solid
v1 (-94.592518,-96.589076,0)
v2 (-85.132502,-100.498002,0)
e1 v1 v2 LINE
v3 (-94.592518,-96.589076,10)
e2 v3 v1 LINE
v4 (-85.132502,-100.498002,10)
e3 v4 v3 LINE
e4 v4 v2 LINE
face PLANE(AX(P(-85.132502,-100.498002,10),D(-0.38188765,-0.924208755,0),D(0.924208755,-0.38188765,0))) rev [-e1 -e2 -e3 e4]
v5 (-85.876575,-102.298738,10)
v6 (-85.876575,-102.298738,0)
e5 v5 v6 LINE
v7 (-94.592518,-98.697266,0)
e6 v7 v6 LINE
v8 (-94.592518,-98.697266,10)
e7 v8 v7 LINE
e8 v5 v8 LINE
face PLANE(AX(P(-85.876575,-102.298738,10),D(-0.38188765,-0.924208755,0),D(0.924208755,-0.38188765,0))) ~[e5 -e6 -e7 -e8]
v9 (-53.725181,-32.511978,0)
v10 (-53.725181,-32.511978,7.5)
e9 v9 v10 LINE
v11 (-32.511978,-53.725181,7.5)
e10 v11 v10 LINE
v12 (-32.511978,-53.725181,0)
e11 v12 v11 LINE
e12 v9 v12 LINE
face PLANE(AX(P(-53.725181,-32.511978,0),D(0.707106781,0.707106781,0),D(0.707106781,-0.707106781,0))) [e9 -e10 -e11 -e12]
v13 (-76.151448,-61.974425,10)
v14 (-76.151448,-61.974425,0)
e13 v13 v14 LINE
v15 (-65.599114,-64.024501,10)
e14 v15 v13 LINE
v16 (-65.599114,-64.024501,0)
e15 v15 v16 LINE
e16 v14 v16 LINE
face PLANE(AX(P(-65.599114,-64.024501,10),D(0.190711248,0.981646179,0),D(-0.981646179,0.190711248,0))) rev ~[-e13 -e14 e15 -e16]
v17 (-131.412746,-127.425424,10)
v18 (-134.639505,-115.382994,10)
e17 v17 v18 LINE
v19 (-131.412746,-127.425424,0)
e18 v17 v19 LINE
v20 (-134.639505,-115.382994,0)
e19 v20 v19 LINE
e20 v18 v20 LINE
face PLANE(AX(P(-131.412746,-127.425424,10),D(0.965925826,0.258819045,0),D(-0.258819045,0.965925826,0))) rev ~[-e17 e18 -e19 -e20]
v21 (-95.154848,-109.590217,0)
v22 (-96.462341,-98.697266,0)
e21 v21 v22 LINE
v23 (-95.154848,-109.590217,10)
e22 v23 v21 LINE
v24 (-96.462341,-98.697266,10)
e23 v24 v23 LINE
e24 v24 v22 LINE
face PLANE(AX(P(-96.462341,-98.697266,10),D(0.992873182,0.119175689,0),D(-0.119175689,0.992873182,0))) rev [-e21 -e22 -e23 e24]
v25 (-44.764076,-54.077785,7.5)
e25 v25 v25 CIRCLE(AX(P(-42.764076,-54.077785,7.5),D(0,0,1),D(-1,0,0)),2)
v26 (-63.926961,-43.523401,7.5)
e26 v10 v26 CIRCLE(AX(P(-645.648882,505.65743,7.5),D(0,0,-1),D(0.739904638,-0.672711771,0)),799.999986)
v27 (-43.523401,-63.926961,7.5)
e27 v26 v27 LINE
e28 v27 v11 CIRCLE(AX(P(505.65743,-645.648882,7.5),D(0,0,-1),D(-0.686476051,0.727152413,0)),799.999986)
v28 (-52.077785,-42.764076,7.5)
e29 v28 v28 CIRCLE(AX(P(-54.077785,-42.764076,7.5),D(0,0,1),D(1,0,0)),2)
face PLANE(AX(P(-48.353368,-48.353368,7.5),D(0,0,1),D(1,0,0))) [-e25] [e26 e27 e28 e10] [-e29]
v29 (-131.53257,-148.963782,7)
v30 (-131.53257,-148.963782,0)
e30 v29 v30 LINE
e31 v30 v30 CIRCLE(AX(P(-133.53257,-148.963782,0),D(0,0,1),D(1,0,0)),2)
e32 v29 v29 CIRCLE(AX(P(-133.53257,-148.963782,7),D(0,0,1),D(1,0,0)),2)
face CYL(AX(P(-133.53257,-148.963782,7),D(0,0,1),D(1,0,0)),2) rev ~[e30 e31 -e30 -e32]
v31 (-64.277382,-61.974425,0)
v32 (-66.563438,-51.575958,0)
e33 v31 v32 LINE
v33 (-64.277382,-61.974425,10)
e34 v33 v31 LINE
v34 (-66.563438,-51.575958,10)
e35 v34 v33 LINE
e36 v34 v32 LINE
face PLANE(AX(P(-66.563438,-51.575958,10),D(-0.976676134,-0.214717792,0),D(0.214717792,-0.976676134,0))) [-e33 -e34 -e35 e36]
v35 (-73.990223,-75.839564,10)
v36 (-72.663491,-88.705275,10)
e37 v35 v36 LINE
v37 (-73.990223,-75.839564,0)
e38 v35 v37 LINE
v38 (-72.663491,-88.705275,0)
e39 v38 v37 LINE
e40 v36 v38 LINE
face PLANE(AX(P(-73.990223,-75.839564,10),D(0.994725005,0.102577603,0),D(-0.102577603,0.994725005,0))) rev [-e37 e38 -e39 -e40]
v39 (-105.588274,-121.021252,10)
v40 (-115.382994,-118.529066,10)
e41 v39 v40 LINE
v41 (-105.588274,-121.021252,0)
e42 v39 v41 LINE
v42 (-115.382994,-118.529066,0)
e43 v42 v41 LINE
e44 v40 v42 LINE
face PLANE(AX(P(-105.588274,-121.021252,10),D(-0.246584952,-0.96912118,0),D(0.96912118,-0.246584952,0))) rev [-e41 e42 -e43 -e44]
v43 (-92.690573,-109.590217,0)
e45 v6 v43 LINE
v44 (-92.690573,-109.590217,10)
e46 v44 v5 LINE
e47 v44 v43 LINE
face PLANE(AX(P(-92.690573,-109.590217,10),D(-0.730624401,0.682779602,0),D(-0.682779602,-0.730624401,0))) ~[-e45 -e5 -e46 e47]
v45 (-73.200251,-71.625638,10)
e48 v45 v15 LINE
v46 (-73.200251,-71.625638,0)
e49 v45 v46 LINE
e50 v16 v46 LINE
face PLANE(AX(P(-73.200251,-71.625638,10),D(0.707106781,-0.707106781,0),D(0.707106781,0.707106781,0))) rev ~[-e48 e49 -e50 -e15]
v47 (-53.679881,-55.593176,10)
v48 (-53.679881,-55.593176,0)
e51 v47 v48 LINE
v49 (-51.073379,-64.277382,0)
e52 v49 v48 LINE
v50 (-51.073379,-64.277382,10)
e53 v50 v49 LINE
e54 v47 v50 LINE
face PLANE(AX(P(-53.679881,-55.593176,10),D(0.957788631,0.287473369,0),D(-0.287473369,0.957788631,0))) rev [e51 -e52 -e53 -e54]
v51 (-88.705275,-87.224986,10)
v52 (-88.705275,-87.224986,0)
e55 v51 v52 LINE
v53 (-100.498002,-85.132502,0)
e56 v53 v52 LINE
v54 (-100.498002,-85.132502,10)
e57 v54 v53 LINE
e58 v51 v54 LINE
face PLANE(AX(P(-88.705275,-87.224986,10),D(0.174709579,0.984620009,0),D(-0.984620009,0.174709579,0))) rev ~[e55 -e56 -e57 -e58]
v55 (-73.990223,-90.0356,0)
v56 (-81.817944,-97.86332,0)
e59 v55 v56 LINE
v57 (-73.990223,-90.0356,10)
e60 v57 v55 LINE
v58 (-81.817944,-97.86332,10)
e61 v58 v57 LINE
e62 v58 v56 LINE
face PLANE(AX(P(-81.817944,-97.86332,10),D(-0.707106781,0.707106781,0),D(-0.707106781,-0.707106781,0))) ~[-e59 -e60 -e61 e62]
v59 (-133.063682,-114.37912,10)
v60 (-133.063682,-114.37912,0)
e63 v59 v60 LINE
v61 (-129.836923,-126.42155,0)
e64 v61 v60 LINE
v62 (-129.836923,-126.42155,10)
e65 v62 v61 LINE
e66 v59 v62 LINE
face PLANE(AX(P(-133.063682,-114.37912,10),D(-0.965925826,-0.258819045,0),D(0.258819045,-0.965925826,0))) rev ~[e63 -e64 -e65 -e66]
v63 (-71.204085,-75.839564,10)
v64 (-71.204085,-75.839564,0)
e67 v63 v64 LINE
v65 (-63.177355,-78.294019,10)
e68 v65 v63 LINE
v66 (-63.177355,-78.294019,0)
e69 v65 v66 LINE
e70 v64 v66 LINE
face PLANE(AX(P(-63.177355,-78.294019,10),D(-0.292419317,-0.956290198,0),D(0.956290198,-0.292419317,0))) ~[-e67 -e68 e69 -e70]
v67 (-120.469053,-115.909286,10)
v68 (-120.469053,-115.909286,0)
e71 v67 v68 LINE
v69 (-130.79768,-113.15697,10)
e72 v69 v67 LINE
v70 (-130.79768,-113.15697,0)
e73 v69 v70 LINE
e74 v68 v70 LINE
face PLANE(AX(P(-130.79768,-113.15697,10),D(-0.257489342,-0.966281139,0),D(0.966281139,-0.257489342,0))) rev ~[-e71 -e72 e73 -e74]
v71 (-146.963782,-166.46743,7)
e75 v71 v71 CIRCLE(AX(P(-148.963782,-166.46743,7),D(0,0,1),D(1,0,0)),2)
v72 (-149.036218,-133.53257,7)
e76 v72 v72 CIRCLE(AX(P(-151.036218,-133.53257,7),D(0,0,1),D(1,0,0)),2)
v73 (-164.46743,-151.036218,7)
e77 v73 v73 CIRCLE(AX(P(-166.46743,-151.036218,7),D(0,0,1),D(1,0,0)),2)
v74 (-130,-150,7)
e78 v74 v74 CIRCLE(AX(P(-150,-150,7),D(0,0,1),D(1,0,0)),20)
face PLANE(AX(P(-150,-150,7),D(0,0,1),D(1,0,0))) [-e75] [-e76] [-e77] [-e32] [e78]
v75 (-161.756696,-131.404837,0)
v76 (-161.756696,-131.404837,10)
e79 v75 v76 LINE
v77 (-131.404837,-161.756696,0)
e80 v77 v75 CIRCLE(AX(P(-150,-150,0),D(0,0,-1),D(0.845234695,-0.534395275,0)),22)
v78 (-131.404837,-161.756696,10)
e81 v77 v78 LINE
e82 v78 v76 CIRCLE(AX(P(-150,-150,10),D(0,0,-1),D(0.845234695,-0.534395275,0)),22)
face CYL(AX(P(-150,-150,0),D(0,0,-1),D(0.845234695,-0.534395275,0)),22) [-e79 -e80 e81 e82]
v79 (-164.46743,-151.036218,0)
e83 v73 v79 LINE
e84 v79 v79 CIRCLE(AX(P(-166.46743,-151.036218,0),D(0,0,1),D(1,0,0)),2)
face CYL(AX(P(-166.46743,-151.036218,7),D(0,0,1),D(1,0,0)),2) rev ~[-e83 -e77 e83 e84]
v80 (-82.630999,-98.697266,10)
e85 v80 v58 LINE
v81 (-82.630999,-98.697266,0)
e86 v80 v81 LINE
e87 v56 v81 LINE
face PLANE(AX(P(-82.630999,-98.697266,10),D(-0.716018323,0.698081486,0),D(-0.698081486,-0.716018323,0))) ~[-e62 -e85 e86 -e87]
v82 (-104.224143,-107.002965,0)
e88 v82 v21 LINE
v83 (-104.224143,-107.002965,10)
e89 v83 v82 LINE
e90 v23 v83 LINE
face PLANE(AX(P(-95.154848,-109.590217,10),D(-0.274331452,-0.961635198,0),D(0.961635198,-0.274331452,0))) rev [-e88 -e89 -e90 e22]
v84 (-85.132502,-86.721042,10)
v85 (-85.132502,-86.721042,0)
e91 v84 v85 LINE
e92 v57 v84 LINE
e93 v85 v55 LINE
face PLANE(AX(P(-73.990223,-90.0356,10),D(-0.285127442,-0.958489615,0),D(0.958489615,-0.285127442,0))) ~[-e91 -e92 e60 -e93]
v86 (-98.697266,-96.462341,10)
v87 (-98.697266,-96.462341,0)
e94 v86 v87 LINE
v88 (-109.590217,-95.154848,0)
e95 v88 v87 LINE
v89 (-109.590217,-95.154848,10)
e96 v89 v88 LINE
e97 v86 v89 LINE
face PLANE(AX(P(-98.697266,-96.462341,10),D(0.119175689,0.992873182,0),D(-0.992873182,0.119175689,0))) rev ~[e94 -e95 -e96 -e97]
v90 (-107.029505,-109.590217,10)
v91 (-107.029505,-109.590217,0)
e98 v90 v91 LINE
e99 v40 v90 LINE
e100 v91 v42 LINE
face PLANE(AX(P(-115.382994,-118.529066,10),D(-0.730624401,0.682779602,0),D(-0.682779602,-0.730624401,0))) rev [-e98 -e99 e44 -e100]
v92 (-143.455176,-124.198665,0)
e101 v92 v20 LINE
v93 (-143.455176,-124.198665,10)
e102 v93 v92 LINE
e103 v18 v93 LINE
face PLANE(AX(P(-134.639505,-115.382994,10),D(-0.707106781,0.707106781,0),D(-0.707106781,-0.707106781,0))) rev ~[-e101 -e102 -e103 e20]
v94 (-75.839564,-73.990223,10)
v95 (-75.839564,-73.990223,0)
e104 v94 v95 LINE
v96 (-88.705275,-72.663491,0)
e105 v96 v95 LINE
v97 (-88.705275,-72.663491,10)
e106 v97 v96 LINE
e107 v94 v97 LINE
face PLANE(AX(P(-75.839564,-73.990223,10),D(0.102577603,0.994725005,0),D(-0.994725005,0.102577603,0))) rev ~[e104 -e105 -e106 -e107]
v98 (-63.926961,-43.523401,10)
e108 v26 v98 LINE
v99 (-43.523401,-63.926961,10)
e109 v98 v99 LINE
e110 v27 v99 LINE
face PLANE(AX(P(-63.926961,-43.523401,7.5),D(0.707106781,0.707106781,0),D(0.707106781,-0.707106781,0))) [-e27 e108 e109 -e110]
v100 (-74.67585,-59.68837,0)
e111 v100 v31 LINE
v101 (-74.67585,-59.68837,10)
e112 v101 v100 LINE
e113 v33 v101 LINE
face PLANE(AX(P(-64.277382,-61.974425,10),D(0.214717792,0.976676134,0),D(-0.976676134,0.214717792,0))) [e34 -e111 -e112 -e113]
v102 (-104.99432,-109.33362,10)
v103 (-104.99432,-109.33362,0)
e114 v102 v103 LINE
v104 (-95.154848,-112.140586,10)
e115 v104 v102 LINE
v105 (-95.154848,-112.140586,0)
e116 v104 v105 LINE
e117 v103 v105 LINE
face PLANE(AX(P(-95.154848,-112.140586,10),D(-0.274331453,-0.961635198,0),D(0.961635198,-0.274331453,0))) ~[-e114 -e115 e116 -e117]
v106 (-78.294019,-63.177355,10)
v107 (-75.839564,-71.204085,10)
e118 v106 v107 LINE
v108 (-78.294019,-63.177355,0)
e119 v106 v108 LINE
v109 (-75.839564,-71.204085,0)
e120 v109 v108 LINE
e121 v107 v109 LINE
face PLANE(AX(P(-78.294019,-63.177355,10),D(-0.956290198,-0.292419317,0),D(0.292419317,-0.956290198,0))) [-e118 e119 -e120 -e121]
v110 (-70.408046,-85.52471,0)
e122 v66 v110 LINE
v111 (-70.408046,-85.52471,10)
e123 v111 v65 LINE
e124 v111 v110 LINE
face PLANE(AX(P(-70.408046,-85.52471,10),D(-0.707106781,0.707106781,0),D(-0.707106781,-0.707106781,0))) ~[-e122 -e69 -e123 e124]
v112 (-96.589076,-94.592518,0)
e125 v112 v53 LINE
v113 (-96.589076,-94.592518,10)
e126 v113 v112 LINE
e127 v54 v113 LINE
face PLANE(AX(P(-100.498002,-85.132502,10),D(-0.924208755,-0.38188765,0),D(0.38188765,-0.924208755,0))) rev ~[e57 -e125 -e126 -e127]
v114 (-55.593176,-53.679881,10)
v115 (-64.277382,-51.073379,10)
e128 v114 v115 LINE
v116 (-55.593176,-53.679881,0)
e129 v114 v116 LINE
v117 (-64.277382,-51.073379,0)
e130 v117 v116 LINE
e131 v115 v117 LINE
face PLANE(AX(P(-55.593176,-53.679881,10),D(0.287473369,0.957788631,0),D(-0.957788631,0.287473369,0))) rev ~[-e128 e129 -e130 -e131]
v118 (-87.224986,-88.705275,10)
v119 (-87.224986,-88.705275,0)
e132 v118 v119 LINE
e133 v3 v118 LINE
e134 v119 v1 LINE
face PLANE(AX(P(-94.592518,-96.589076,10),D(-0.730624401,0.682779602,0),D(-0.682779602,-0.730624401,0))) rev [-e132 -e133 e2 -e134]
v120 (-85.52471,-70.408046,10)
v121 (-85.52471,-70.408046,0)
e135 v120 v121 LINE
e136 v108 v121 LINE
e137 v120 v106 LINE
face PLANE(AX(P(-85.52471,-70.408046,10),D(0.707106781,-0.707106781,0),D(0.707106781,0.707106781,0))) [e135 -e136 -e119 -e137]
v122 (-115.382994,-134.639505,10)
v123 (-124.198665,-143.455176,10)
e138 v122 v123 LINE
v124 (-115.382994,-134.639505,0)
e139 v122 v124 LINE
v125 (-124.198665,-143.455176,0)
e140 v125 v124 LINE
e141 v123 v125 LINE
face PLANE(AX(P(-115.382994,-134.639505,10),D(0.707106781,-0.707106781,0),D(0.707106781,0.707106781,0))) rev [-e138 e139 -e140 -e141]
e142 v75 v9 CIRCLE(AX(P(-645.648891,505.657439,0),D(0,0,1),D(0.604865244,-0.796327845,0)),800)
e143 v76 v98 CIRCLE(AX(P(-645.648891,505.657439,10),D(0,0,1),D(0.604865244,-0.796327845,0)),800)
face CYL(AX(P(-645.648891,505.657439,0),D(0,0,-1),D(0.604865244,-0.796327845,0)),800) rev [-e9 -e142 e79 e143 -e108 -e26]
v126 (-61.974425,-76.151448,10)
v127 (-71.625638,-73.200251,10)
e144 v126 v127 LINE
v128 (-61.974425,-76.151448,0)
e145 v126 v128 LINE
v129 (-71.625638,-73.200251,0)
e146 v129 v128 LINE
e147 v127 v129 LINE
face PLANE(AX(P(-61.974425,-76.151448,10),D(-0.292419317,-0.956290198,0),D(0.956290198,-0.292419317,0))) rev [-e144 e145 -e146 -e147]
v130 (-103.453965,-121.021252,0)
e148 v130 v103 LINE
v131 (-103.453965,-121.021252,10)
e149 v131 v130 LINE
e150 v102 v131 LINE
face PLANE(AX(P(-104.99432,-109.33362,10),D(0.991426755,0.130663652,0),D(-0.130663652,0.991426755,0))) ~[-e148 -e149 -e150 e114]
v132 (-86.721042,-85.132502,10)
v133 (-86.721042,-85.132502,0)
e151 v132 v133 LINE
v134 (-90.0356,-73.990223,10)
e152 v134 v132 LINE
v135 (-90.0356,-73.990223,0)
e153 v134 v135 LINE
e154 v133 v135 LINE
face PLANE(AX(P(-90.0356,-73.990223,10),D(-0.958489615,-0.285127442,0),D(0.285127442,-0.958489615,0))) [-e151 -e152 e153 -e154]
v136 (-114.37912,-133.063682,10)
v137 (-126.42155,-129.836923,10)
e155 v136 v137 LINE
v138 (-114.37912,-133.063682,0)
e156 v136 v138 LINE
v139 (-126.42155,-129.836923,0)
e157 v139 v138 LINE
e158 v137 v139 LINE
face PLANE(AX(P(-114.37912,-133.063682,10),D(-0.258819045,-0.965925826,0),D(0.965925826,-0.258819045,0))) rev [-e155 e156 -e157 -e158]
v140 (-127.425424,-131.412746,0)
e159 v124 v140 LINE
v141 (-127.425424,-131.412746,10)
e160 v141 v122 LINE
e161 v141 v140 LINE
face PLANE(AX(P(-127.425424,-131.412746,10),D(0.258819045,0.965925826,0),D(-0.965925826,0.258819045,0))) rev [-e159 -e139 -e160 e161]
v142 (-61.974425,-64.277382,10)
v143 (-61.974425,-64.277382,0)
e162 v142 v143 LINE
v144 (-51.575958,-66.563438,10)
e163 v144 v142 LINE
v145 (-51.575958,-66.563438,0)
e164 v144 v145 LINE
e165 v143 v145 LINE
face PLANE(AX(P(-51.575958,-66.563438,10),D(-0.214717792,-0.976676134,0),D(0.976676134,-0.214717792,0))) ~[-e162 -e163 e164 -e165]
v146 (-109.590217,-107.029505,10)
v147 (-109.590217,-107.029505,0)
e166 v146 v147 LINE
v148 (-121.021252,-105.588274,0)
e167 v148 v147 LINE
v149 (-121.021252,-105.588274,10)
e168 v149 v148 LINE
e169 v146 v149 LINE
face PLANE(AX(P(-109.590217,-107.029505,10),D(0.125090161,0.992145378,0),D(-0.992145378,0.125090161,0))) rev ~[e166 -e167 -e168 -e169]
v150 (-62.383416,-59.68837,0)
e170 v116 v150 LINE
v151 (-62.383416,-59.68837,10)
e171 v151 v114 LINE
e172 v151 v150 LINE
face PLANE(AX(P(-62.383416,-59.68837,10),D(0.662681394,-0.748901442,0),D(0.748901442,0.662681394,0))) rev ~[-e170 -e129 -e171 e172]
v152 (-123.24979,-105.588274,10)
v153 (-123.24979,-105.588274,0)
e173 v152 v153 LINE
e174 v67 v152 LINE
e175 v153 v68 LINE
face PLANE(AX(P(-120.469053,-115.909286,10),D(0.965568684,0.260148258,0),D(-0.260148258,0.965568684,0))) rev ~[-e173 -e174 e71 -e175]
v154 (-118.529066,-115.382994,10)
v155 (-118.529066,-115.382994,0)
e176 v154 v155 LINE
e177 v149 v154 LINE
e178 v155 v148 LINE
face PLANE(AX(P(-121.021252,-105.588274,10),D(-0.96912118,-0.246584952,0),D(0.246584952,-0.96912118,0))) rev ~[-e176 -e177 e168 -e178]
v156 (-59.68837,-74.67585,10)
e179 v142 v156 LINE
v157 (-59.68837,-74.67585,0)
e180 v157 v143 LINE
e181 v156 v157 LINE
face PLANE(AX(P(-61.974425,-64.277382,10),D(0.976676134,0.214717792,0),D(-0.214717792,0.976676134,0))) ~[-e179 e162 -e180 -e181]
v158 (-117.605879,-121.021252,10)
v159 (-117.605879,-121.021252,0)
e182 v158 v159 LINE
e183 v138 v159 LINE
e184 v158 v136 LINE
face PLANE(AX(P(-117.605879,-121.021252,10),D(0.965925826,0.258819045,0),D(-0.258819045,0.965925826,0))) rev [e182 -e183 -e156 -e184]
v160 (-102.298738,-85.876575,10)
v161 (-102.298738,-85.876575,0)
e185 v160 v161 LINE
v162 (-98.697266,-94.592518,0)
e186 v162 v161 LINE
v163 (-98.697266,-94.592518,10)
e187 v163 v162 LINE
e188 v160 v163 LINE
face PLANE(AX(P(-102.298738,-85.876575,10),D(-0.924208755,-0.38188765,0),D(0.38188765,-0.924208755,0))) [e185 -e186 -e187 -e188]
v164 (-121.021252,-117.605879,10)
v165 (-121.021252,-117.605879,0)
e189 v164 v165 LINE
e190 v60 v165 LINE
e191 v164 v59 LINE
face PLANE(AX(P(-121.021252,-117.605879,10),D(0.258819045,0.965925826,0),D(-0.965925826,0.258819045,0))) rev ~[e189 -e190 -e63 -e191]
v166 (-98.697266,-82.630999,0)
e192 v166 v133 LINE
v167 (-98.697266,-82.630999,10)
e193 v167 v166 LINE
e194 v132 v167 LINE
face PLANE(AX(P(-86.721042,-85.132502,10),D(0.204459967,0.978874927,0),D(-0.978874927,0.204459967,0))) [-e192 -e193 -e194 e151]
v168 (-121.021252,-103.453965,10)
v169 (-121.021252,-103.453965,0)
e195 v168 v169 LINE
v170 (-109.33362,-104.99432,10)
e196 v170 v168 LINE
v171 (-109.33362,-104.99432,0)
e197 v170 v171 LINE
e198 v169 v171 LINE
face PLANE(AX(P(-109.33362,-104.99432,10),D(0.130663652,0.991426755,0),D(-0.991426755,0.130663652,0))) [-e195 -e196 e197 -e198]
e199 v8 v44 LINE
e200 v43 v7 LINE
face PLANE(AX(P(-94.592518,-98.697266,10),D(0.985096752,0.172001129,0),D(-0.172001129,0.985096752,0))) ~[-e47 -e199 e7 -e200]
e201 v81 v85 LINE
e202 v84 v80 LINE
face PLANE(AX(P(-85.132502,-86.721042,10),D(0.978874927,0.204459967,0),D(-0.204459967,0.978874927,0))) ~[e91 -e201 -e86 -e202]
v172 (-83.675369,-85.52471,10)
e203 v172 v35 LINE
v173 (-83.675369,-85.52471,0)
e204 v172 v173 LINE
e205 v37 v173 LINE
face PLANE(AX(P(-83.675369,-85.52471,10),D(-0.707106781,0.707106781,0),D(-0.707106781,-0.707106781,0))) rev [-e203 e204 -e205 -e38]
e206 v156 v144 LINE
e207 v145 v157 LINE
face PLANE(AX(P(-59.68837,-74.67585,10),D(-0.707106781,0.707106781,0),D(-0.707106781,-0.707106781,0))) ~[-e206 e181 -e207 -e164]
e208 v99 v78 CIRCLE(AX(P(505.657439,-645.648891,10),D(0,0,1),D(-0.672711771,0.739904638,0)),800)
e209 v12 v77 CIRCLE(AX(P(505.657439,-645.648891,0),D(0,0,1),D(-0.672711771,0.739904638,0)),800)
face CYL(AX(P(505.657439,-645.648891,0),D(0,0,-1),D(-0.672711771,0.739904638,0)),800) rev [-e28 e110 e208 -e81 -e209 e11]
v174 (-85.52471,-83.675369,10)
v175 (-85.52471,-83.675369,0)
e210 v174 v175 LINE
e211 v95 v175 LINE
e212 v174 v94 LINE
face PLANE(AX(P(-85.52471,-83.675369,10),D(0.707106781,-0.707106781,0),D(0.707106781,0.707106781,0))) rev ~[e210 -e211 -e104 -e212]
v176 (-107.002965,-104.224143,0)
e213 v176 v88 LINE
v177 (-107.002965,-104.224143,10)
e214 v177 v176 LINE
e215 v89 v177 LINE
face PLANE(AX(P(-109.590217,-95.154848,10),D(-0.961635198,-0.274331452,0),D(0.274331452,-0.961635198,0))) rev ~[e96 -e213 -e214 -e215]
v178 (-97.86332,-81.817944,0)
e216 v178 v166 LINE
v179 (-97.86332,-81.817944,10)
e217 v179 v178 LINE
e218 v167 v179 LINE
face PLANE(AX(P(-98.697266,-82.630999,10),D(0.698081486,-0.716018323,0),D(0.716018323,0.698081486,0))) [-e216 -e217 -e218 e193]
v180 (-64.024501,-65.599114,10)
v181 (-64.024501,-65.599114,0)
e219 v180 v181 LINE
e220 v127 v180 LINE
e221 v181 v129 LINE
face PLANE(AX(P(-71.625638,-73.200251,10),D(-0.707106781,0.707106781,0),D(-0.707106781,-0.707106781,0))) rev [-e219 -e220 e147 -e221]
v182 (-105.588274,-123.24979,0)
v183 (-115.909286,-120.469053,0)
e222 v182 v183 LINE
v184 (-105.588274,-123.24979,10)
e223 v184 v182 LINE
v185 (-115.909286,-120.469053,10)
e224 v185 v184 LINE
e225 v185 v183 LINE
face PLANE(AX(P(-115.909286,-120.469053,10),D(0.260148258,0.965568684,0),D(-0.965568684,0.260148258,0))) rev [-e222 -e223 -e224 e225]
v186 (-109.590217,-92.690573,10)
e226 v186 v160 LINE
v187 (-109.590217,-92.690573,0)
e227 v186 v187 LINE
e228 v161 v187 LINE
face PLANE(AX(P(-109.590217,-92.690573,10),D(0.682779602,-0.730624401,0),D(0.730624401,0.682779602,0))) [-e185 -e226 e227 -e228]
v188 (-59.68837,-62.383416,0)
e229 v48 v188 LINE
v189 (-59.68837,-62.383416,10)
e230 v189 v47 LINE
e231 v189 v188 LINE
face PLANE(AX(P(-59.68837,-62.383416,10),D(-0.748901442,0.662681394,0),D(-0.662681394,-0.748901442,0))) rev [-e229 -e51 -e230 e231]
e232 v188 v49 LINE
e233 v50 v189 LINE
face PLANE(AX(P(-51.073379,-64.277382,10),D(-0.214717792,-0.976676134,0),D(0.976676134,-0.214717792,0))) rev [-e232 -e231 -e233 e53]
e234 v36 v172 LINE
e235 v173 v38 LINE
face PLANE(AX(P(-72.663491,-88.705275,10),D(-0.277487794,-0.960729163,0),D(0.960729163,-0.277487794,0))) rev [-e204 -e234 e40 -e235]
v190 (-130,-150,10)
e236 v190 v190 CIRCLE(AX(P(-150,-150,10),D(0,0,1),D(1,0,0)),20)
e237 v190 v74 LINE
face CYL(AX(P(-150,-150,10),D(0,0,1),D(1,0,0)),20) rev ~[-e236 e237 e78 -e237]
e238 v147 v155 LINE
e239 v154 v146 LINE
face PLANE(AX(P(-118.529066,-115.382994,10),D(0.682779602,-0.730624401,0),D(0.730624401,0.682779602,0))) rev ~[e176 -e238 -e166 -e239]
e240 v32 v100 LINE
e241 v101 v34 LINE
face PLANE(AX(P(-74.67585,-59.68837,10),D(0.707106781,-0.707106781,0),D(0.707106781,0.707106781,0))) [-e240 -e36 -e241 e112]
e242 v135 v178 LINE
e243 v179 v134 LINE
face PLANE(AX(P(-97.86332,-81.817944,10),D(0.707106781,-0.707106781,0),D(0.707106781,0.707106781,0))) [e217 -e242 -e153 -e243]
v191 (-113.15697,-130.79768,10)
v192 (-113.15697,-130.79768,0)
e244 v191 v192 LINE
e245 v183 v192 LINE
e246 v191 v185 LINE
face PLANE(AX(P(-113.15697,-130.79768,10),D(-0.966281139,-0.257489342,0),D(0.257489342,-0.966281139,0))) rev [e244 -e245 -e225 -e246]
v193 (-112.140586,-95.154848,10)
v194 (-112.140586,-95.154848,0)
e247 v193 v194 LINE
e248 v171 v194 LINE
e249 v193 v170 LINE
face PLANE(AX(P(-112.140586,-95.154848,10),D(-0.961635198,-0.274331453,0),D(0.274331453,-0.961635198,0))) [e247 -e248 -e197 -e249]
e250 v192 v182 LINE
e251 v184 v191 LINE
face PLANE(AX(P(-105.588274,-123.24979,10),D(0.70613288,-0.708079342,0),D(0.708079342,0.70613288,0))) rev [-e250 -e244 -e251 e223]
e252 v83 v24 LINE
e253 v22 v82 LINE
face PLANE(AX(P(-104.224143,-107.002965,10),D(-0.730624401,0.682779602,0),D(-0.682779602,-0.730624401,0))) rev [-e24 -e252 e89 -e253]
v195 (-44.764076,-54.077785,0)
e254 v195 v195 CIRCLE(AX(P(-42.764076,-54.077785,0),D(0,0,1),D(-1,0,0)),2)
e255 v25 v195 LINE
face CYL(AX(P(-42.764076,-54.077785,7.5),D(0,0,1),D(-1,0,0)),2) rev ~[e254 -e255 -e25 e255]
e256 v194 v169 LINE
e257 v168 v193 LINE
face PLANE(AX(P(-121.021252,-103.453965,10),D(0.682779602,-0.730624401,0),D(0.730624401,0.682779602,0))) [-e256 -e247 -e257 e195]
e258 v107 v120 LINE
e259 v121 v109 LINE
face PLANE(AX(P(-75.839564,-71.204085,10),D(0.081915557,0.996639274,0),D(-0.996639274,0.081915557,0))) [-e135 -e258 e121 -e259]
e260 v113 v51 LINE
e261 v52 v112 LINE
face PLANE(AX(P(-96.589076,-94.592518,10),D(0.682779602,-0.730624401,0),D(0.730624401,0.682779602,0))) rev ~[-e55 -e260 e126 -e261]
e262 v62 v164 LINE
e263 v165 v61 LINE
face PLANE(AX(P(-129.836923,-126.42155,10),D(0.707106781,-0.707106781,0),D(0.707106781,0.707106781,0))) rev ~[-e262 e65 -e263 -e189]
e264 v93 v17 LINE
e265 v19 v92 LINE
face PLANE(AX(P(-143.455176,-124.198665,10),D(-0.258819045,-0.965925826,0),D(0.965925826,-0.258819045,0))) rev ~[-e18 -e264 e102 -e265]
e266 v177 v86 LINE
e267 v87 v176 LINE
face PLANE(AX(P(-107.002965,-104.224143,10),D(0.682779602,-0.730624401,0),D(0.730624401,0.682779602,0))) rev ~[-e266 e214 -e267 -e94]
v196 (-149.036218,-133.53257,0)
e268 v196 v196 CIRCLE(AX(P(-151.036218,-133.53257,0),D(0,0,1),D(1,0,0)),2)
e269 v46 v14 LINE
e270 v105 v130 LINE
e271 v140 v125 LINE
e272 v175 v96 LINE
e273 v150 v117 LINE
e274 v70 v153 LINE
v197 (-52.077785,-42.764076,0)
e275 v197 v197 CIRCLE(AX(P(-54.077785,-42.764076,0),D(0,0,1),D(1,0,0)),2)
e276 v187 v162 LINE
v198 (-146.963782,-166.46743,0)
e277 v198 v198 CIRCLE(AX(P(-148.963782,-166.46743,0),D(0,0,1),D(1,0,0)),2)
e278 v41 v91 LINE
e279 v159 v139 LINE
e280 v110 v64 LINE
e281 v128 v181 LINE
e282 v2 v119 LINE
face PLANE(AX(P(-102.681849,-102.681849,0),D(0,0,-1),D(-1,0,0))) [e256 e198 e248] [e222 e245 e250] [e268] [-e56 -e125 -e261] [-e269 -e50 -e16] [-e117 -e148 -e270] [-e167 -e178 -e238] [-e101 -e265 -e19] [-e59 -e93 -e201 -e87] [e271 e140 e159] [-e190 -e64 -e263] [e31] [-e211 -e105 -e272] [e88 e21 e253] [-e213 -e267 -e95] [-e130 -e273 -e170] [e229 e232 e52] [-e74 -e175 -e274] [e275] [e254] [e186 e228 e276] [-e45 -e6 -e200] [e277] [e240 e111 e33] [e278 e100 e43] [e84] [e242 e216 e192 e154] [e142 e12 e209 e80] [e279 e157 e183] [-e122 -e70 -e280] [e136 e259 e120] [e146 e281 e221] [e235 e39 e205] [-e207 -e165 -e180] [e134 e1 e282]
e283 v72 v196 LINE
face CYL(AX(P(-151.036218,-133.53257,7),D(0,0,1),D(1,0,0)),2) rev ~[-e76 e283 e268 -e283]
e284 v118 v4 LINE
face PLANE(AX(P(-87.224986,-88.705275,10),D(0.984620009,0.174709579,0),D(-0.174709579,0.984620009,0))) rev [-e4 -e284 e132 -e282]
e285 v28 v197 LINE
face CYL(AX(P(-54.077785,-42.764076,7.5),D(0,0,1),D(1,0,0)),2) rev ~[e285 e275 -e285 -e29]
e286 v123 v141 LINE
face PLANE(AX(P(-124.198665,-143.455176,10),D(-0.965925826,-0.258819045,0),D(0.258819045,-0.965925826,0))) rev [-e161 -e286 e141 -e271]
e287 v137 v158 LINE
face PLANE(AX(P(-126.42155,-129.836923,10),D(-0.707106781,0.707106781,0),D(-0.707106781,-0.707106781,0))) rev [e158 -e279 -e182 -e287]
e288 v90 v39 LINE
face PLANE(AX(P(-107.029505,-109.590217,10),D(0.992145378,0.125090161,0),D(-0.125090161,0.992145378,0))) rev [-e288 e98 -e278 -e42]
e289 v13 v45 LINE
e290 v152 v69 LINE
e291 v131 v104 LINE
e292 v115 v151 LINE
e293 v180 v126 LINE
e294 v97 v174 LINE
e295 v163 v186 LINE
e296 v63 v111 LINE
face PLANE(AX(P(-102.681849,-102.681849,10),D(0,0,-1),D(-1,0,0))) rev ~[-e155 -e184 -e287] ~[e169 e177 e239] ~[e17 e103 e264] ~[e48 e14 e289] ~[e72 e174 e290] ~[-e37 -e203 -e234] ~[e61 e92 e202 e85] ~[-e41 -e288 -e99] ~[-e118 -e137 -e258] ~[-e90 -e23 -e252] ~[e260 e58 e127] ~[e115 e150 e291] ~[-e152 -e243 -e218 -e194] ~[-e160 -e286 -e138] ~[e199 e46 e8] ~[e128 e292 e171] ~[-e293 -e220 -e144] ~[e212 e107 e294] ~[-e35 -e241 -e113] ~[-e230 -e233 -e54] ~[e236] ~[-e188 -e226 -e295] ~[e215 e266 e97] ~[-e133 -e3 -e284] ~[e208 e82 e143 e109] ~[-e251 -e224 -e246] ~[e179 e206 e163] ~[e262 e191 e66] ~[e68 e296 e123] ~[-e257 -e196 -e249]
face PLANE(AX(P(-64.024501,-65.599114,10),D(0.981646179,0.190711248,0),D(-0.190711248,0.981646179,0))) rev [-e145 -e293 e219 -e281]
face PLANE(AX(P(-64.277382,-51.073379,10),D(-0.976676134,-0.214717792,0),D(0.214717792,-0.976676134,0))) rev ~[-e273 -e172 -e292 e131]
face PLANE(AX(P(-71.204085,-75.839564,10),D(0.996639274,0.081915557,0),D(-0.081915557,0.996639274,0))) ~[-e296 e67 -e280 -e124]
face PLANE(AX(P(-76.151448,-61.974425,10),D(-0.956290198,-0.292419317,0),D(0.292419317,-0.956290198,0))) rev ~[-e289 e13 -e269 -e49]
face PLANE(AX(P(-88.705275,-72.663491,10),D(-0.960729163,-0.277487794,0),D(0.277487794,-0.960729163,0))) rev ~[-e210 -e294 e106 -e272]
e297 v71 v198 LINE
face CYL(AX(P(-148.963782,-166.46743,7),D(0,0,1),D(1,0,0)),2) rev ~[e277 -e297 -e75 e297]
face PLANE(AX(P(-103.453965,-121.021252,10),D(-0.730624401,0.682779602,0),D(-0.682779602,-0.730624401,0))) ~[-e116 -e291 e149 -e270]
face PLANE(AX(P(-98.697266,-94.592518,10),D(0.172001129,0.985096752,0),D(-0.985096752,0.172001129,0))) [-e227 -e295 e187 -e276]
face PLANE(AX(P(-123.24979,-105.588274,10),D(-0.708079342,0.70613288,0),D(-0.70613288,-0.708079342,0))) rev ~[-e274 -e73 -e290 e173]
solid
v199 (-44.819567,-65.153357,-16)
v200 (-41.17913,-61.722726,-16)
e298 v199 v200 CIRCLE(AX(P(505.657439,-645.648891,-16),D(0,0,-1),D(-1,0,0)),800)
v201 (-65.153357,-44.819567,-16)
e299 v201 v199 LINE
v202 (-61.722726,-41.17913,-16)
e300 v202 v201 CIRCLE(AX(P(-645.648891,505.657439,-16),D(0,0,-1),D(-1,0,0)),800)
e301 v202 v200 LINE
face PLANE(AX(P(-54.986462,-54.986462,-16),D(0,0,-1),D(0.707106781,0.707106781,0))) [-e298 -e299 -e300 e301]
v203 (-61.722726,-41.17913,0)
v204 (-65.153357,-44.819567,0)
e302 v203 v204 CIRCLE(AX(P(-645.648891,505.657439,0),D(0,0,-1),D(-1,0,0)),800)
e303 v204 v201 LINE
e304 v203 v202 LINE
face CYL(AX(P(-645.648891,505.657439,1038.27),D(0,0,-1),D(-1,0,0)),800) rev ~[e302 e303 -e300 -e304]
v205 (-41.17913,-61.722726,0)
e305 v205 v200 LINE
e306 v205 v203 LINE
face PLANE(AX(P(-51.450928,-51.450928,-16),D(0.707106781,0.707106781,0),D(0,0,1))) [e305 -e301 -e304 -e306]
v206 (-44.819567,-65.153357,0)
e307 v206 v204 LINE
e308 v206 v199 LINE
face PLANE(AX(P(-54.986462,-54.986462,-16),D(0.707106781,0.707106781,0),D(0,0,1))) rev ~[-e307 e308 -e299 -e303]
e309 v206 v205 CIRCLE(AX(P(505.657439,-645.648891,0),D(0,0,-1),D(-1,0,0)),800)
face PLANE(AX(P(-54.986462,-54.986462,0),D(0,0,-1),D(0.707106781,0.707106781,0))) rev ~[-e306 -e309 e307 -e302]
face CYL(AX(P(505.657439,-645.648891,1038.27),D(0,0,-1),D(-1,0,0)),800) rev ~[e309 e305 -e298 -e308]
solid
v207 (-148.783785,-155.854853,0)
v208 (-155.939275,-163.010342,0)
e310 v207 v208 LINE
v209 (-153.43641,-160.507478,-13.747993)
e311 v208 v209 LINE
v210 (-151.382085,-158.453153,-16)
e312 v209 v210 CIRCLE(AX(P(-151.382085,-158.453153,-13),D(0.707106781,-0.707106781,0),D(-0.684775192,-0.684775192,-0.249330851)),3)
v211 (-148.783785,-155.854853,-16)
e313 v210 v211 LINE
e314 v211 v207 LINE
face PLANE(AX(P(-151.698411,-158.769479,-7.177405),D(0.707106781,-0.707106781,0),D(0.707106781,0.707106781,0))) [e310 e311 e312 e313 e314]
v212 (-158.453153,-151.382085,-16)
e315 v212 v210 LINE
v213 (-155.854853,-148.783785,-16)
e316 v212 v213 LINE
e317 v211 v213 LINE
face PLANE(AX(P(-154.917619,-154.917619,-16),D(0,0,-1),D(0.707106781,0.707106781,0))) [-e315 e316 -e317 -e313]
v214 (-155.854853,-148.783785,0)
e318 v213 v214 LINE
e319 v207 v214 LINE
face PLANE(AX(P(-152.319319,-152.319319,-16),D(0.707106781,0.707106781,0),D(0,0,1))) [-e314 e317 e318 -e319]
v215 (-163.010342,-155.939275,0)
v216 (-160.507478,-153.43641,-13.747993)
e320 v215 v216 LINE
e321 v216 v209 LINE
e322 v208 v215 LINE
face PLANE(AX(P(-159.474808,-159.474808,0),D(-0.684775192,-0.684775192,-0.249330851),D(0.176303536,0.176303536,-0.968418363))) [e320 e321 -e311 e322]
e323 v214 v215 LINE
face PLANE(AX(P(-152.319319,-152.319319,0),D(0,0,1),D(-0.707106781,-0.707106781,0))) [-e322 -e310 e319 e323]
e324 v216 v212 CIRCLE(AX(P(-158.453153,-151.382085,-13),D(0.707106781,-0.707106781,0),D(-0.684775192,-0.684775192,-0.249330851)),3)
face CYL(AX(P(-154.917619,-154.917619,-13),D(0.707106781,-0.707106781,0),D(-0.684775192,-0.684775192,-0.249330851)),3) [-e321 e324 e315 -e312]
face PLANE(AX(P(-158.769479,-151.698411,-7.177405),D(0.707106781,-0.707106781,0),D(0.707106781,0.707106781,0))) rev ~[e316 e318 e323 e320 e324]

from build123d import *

# Parameters (mm, degrees)
BOSS_EXTRUDE1_DEPTH                  = 10
BOSS_EXTRUDE2_DEPTH                  = 5
SKETCH5_R                            = 20
CUT_EXTRUDE1_DEPTH                   = 3
SKETCH7_R                            = 2
CUT_EXTRUDE2_DEPTH                   = 245.329695289
CUT_EXTRUDE3_START                   = -2.5
CUT_EXTRUDE3_DEPTH                   = 2.5
SKETCH9_R                            = 2
CUT_EXTRUDE4_DEPTH                   = 245.37726981
BOSS_EXTRUDE3_REACH                  = 245.77
BOSS_EXTRUDE3_END_RADIUS             = 800
SKETCH10_W                           = 5
SKETCH10_H                           = 16
BOSS_EXTRUDE3_DIRECTION_2_REACH      = 245.77
BOSS_EXTRUDE3_DIRECTION_2_END_RADIUS = 800
CUT_EXTRUDE5_DEPTH                   = 245.63033336


with BuildPart() as part:
    # Sketch1 → Boss-Extrude1 (new body)
    with BuildSketch(Plane.XY):
        with BuildLine():
            Line((-53.725181106, -32.51197767), (-32.51197767, -53.725181106))
            ThreePointArc((-32.51197767, -53.725181106), (-84.43584578, -105.473072704), (-131.4048367, -161.756696044))
            ThreePointArc((-131.4048367, -161.756696044), (-165.556349186, -165.556349186), (-161.756696044, -131.4048367))
            ThreePointArc((-161.756696044, -131.4048367), (-105.473072704, -84.43584578), (-53.725181106, -32.51197767))
        make_face()
    extrude(amount=BOSS_EXTRUDE1_DEPTH)

    # Sketch5 → Cut-Extrude1 (cut)
    with BuildSketch(Plane.XY.offset(10)):
        with Locations((-150, -150)):
            Circle(SKETCH5_R)
    extrude(amount=-CUT_EXTRUDE1_DEPTH, mode=Mode.SUBTRACT)

    # Sketch7 → Cut-Extrude2 (cut, through all)
    with BuildSketch(Plane.XY.offset(7)):
        with Locations((-166.467430068, -151.036217613)):
            Circle(SKETCH7_R)
        with Locations((-151.036217613, -133.532569932)):
            Circle(SKETCH7_R)
        with Locations((-133.532569932, -148.963782387)):
            Circle(SKETCH7_R)
        with Locations((-148.963782387, -166.467430068)):
            Circle(SKETCH7_R)
    extrude(amount=-CUT_EXTRUDE2_DEPTH, mode=Mode.SUBTRACT)

    # Sketch8 → Cut-Extrude3 (cut)
    with BuildSketch(Plane.XY.offset(10).offset(CUT_EXTRUDE3_START)):
        with BuildLine():
            ThreePointArc((-53.725181106, -32.51197767), (-58.800243607, -38.041617861), (-63.926960875, -43.523401337))
            Line((-63.926960875, -43.523401337), (-43.523401337, -63.926960875))
            ThreePointArc((-43.523401337, -63.926960875), (-38.041617861, -58.800243607), (-32.51197767, -53.725181106))
            Line((-32.51197767, -53.725181106), (-53.725181106, -32.51197767))
        make_face()
    extrude(amount=CUT_EXTRUDE3_DEPTH, mode=Mode.SUBTRACT)

    # Sketch9 → Cut-Extrude4 (cut, through all)
    with BuildSketch(Plane.XY.offset(7.5)):
        with Locations((-54.077784983, -42.764076484)):
            Circle(SKETCH9_R)
        with Locations((-42.764076484, -54.077784983)):
            Circle(SKETCH9_R)
    extrude(amount=-CUT_EXTRUDE4_DEPTH, mode=Mode.SUBTRACT)

    # Sketch11 → Cut-Extrude5 (cut, through all)
    with BuildSketch(Plane.XY.offset(10)):
        Polygon((-133.063682372, -114.379119695), (-129.836922908, -126.421549962), (-121.021252106, -117.60587916), align=None)
        Polygon((-131.412745558, -127.425424466), (-134.639505023, -115.382994199), (-143.455175824, -124.198665001), align=None)
        Polygon((-121.021252106, -105.588274341), (-118.529065809, -115.382994199), (-109.590217466, -107.029504625), align=None)
        Polygon((-123.24979044, -105.588274341), (-130.797680236, -113.156969968), (-120.469052652, -115.909286462), align=None)
        Polygon((-121.021252106, -103.453965288), (-112.140585737, -95.154847651), (-109.333620391, -104.994319762), align=None)
        Polygon((-109.590217466, -95.154847651), (-107.00296521, -104.224142525), (-98.697266452, -96.462340856), align=None)
        Polygon((-109.590217466, -92.690573255), (-102.298737686, -85.876574628), (-98.697266452, -94.592518287), align=None)
        Polygon((-97.863320396, -81.81794377), (-90.035599808, -73.990223182), (-86.721041856, -85.132501722), (-98.697266452, -82.630998805), align=None)
        Polygon((-100.498002069, -85.132501722), (-96.589076212, -94.592518287), (-88.705275198, -87.224986468), align=None)
        Polygon((-88.705275198, -72.663490879), (-85.524709977, -83.675368995), (-75.839564165, -73.990223182), align=None)
        Polygon((-85.524709977, -70.408045964), (-78.294018925, -63.177354912), (-75.839564165, -71.204085345), align=None)
        Polygon((-76.151448432, -61.974425213), (-73.200251229, -71.625637689), (-65.599114287, -64.024500748), align=None)
        Polygon((-74.67584983, -59.688369594), (-66.56343802, -51.575957784), (-64.277382401, -61.974425213), align=None)
        Polygon((-64.277382401, -51.073378886), (-62.383416002, -59.688369594), (-55.593175908, -53.679881002), align=None)
    cut_extrude5 = extrude(amount=-CUT_EXTRUDE5_DEPTH, mode=Mode.SUBTRACT)

    # Mirror1: Cut-Extrude5 across plane
    add(cut_extrude5.mirror(Plane(origin=(0, 0, 0), x_dir=(0, 0, 1), z_dir=(-0.7071067811865469, 0.7071067811865481, 0))), mode=Mode.SUBTRACT)


with BuildPart() as body_2:
    # Sketch4 → Boss-Extrude2 (new, symmetric)
    with BuildSketch(Plane(origin=(0, 0, 0), x_dir=(0.7071067811865481, 0.7071067811865469, 0), z_dir=(0.7071067811865469, -0.7071067811865481, 0))):
        with BuildLine():
            Line((-225.531437003, 0), (-221.991852446, -13.747992553))
            ThreePointArc((-221.991852446, -13.747992553), (-220.924534017, -15.37107335), (-219.086597356, -16))
            Line((-219.086597356, -16), (-215.412046286, -16))
            Line((-215.412046286, -16), (-215.412046286, 0))
            Line((-215.412046286, 0), (-225.531437003, 0))
        make_face()
    extrude(amount=BOSS_EXTRUDE2_DEPTH, both=True)


with BuildPart() as body_3:
    # Boss-Extrude3: up to this cylinder (the profile starts outside it)
    boss_extrude3_end = Plane(origin=(505.657439071, -645.648891464, -8), z_dir=(0, 0, -1)) * Cylinder(BOSS_EXTRUDE3_END_RADIUS, 2092.54, mode=Mode.PRIVATE)
    # Sketch10 → Boss-Extrude3 (new, up to the surface)
    with BuildSketch(Plane(origin=(0, 0, 0), x_dir=(0.7071067811865481, 0.7071067811865469, 0), z_dir=(0.7071067811865469, -0.7071067811865481, 0)), mode=Mode.PRIVATE) as boss_extrude3_sk1:
        with Locations((-75.26259993, -8)):
            Rectangle(SKETCH10_W, SKETCH10_H)
    boss_extrude3_tool1 = extrude(boss_extrude3_sk1.sketch, amount=BOSS_EXTRUDE3_REACH, mode=Mode.PRIVATE) - boss_extrude3_end
    add(boss_extrude3_tool1.solids().sort_by_distance((-53.218695, -53.218695, -8))[0])

    # Boss-Extrude3 direction 2: up to this cylinder (the profile starts outside it)
    boss_extrude3_direction_2_end = Plane(origin=(-645.648891464, 505.657439071, -8), z_dir=(0, 0, -1)) * Cylinder(BOSS_EXTRUDE3_DIRECTION_2_END_RADIUS, 2092.54, mode=Mode.PRIVATE)
    # Sketch10 → Boss-Extrude3 direction 2 (add, up to the surface)
    with BuildSketch(Plane(origin=(0, 0, 0), x_dir=(0.7071067811865481, 0.7071067811865469, 0), z_dir=(0.7071067811865469, -0.7071067811865481, 0)), mode=Mode.PRIVATE) as boss_extrude3_direction_2_sk1:
        with Locations((-75.26259993, -8)):
            Rectangle(SKETCH10_W, SKETCH10_H)
    boss_extrude3_direction_2_tool1 = extrude(boss_extrude3_direction_2_sk1.sketch, amount=-BOSS_EXTRUDE3_DIRECTION_2_REACH, mode=Mode.PRIVATE) - boss_extrude3_direction_2_end
    add(boss_extrude3_direction_2_tool1.solids().sort_by_distance((-53.218695, -53.218695, -8))[0])


solid = Compound([part.part, body_2.part, body_3.part])
